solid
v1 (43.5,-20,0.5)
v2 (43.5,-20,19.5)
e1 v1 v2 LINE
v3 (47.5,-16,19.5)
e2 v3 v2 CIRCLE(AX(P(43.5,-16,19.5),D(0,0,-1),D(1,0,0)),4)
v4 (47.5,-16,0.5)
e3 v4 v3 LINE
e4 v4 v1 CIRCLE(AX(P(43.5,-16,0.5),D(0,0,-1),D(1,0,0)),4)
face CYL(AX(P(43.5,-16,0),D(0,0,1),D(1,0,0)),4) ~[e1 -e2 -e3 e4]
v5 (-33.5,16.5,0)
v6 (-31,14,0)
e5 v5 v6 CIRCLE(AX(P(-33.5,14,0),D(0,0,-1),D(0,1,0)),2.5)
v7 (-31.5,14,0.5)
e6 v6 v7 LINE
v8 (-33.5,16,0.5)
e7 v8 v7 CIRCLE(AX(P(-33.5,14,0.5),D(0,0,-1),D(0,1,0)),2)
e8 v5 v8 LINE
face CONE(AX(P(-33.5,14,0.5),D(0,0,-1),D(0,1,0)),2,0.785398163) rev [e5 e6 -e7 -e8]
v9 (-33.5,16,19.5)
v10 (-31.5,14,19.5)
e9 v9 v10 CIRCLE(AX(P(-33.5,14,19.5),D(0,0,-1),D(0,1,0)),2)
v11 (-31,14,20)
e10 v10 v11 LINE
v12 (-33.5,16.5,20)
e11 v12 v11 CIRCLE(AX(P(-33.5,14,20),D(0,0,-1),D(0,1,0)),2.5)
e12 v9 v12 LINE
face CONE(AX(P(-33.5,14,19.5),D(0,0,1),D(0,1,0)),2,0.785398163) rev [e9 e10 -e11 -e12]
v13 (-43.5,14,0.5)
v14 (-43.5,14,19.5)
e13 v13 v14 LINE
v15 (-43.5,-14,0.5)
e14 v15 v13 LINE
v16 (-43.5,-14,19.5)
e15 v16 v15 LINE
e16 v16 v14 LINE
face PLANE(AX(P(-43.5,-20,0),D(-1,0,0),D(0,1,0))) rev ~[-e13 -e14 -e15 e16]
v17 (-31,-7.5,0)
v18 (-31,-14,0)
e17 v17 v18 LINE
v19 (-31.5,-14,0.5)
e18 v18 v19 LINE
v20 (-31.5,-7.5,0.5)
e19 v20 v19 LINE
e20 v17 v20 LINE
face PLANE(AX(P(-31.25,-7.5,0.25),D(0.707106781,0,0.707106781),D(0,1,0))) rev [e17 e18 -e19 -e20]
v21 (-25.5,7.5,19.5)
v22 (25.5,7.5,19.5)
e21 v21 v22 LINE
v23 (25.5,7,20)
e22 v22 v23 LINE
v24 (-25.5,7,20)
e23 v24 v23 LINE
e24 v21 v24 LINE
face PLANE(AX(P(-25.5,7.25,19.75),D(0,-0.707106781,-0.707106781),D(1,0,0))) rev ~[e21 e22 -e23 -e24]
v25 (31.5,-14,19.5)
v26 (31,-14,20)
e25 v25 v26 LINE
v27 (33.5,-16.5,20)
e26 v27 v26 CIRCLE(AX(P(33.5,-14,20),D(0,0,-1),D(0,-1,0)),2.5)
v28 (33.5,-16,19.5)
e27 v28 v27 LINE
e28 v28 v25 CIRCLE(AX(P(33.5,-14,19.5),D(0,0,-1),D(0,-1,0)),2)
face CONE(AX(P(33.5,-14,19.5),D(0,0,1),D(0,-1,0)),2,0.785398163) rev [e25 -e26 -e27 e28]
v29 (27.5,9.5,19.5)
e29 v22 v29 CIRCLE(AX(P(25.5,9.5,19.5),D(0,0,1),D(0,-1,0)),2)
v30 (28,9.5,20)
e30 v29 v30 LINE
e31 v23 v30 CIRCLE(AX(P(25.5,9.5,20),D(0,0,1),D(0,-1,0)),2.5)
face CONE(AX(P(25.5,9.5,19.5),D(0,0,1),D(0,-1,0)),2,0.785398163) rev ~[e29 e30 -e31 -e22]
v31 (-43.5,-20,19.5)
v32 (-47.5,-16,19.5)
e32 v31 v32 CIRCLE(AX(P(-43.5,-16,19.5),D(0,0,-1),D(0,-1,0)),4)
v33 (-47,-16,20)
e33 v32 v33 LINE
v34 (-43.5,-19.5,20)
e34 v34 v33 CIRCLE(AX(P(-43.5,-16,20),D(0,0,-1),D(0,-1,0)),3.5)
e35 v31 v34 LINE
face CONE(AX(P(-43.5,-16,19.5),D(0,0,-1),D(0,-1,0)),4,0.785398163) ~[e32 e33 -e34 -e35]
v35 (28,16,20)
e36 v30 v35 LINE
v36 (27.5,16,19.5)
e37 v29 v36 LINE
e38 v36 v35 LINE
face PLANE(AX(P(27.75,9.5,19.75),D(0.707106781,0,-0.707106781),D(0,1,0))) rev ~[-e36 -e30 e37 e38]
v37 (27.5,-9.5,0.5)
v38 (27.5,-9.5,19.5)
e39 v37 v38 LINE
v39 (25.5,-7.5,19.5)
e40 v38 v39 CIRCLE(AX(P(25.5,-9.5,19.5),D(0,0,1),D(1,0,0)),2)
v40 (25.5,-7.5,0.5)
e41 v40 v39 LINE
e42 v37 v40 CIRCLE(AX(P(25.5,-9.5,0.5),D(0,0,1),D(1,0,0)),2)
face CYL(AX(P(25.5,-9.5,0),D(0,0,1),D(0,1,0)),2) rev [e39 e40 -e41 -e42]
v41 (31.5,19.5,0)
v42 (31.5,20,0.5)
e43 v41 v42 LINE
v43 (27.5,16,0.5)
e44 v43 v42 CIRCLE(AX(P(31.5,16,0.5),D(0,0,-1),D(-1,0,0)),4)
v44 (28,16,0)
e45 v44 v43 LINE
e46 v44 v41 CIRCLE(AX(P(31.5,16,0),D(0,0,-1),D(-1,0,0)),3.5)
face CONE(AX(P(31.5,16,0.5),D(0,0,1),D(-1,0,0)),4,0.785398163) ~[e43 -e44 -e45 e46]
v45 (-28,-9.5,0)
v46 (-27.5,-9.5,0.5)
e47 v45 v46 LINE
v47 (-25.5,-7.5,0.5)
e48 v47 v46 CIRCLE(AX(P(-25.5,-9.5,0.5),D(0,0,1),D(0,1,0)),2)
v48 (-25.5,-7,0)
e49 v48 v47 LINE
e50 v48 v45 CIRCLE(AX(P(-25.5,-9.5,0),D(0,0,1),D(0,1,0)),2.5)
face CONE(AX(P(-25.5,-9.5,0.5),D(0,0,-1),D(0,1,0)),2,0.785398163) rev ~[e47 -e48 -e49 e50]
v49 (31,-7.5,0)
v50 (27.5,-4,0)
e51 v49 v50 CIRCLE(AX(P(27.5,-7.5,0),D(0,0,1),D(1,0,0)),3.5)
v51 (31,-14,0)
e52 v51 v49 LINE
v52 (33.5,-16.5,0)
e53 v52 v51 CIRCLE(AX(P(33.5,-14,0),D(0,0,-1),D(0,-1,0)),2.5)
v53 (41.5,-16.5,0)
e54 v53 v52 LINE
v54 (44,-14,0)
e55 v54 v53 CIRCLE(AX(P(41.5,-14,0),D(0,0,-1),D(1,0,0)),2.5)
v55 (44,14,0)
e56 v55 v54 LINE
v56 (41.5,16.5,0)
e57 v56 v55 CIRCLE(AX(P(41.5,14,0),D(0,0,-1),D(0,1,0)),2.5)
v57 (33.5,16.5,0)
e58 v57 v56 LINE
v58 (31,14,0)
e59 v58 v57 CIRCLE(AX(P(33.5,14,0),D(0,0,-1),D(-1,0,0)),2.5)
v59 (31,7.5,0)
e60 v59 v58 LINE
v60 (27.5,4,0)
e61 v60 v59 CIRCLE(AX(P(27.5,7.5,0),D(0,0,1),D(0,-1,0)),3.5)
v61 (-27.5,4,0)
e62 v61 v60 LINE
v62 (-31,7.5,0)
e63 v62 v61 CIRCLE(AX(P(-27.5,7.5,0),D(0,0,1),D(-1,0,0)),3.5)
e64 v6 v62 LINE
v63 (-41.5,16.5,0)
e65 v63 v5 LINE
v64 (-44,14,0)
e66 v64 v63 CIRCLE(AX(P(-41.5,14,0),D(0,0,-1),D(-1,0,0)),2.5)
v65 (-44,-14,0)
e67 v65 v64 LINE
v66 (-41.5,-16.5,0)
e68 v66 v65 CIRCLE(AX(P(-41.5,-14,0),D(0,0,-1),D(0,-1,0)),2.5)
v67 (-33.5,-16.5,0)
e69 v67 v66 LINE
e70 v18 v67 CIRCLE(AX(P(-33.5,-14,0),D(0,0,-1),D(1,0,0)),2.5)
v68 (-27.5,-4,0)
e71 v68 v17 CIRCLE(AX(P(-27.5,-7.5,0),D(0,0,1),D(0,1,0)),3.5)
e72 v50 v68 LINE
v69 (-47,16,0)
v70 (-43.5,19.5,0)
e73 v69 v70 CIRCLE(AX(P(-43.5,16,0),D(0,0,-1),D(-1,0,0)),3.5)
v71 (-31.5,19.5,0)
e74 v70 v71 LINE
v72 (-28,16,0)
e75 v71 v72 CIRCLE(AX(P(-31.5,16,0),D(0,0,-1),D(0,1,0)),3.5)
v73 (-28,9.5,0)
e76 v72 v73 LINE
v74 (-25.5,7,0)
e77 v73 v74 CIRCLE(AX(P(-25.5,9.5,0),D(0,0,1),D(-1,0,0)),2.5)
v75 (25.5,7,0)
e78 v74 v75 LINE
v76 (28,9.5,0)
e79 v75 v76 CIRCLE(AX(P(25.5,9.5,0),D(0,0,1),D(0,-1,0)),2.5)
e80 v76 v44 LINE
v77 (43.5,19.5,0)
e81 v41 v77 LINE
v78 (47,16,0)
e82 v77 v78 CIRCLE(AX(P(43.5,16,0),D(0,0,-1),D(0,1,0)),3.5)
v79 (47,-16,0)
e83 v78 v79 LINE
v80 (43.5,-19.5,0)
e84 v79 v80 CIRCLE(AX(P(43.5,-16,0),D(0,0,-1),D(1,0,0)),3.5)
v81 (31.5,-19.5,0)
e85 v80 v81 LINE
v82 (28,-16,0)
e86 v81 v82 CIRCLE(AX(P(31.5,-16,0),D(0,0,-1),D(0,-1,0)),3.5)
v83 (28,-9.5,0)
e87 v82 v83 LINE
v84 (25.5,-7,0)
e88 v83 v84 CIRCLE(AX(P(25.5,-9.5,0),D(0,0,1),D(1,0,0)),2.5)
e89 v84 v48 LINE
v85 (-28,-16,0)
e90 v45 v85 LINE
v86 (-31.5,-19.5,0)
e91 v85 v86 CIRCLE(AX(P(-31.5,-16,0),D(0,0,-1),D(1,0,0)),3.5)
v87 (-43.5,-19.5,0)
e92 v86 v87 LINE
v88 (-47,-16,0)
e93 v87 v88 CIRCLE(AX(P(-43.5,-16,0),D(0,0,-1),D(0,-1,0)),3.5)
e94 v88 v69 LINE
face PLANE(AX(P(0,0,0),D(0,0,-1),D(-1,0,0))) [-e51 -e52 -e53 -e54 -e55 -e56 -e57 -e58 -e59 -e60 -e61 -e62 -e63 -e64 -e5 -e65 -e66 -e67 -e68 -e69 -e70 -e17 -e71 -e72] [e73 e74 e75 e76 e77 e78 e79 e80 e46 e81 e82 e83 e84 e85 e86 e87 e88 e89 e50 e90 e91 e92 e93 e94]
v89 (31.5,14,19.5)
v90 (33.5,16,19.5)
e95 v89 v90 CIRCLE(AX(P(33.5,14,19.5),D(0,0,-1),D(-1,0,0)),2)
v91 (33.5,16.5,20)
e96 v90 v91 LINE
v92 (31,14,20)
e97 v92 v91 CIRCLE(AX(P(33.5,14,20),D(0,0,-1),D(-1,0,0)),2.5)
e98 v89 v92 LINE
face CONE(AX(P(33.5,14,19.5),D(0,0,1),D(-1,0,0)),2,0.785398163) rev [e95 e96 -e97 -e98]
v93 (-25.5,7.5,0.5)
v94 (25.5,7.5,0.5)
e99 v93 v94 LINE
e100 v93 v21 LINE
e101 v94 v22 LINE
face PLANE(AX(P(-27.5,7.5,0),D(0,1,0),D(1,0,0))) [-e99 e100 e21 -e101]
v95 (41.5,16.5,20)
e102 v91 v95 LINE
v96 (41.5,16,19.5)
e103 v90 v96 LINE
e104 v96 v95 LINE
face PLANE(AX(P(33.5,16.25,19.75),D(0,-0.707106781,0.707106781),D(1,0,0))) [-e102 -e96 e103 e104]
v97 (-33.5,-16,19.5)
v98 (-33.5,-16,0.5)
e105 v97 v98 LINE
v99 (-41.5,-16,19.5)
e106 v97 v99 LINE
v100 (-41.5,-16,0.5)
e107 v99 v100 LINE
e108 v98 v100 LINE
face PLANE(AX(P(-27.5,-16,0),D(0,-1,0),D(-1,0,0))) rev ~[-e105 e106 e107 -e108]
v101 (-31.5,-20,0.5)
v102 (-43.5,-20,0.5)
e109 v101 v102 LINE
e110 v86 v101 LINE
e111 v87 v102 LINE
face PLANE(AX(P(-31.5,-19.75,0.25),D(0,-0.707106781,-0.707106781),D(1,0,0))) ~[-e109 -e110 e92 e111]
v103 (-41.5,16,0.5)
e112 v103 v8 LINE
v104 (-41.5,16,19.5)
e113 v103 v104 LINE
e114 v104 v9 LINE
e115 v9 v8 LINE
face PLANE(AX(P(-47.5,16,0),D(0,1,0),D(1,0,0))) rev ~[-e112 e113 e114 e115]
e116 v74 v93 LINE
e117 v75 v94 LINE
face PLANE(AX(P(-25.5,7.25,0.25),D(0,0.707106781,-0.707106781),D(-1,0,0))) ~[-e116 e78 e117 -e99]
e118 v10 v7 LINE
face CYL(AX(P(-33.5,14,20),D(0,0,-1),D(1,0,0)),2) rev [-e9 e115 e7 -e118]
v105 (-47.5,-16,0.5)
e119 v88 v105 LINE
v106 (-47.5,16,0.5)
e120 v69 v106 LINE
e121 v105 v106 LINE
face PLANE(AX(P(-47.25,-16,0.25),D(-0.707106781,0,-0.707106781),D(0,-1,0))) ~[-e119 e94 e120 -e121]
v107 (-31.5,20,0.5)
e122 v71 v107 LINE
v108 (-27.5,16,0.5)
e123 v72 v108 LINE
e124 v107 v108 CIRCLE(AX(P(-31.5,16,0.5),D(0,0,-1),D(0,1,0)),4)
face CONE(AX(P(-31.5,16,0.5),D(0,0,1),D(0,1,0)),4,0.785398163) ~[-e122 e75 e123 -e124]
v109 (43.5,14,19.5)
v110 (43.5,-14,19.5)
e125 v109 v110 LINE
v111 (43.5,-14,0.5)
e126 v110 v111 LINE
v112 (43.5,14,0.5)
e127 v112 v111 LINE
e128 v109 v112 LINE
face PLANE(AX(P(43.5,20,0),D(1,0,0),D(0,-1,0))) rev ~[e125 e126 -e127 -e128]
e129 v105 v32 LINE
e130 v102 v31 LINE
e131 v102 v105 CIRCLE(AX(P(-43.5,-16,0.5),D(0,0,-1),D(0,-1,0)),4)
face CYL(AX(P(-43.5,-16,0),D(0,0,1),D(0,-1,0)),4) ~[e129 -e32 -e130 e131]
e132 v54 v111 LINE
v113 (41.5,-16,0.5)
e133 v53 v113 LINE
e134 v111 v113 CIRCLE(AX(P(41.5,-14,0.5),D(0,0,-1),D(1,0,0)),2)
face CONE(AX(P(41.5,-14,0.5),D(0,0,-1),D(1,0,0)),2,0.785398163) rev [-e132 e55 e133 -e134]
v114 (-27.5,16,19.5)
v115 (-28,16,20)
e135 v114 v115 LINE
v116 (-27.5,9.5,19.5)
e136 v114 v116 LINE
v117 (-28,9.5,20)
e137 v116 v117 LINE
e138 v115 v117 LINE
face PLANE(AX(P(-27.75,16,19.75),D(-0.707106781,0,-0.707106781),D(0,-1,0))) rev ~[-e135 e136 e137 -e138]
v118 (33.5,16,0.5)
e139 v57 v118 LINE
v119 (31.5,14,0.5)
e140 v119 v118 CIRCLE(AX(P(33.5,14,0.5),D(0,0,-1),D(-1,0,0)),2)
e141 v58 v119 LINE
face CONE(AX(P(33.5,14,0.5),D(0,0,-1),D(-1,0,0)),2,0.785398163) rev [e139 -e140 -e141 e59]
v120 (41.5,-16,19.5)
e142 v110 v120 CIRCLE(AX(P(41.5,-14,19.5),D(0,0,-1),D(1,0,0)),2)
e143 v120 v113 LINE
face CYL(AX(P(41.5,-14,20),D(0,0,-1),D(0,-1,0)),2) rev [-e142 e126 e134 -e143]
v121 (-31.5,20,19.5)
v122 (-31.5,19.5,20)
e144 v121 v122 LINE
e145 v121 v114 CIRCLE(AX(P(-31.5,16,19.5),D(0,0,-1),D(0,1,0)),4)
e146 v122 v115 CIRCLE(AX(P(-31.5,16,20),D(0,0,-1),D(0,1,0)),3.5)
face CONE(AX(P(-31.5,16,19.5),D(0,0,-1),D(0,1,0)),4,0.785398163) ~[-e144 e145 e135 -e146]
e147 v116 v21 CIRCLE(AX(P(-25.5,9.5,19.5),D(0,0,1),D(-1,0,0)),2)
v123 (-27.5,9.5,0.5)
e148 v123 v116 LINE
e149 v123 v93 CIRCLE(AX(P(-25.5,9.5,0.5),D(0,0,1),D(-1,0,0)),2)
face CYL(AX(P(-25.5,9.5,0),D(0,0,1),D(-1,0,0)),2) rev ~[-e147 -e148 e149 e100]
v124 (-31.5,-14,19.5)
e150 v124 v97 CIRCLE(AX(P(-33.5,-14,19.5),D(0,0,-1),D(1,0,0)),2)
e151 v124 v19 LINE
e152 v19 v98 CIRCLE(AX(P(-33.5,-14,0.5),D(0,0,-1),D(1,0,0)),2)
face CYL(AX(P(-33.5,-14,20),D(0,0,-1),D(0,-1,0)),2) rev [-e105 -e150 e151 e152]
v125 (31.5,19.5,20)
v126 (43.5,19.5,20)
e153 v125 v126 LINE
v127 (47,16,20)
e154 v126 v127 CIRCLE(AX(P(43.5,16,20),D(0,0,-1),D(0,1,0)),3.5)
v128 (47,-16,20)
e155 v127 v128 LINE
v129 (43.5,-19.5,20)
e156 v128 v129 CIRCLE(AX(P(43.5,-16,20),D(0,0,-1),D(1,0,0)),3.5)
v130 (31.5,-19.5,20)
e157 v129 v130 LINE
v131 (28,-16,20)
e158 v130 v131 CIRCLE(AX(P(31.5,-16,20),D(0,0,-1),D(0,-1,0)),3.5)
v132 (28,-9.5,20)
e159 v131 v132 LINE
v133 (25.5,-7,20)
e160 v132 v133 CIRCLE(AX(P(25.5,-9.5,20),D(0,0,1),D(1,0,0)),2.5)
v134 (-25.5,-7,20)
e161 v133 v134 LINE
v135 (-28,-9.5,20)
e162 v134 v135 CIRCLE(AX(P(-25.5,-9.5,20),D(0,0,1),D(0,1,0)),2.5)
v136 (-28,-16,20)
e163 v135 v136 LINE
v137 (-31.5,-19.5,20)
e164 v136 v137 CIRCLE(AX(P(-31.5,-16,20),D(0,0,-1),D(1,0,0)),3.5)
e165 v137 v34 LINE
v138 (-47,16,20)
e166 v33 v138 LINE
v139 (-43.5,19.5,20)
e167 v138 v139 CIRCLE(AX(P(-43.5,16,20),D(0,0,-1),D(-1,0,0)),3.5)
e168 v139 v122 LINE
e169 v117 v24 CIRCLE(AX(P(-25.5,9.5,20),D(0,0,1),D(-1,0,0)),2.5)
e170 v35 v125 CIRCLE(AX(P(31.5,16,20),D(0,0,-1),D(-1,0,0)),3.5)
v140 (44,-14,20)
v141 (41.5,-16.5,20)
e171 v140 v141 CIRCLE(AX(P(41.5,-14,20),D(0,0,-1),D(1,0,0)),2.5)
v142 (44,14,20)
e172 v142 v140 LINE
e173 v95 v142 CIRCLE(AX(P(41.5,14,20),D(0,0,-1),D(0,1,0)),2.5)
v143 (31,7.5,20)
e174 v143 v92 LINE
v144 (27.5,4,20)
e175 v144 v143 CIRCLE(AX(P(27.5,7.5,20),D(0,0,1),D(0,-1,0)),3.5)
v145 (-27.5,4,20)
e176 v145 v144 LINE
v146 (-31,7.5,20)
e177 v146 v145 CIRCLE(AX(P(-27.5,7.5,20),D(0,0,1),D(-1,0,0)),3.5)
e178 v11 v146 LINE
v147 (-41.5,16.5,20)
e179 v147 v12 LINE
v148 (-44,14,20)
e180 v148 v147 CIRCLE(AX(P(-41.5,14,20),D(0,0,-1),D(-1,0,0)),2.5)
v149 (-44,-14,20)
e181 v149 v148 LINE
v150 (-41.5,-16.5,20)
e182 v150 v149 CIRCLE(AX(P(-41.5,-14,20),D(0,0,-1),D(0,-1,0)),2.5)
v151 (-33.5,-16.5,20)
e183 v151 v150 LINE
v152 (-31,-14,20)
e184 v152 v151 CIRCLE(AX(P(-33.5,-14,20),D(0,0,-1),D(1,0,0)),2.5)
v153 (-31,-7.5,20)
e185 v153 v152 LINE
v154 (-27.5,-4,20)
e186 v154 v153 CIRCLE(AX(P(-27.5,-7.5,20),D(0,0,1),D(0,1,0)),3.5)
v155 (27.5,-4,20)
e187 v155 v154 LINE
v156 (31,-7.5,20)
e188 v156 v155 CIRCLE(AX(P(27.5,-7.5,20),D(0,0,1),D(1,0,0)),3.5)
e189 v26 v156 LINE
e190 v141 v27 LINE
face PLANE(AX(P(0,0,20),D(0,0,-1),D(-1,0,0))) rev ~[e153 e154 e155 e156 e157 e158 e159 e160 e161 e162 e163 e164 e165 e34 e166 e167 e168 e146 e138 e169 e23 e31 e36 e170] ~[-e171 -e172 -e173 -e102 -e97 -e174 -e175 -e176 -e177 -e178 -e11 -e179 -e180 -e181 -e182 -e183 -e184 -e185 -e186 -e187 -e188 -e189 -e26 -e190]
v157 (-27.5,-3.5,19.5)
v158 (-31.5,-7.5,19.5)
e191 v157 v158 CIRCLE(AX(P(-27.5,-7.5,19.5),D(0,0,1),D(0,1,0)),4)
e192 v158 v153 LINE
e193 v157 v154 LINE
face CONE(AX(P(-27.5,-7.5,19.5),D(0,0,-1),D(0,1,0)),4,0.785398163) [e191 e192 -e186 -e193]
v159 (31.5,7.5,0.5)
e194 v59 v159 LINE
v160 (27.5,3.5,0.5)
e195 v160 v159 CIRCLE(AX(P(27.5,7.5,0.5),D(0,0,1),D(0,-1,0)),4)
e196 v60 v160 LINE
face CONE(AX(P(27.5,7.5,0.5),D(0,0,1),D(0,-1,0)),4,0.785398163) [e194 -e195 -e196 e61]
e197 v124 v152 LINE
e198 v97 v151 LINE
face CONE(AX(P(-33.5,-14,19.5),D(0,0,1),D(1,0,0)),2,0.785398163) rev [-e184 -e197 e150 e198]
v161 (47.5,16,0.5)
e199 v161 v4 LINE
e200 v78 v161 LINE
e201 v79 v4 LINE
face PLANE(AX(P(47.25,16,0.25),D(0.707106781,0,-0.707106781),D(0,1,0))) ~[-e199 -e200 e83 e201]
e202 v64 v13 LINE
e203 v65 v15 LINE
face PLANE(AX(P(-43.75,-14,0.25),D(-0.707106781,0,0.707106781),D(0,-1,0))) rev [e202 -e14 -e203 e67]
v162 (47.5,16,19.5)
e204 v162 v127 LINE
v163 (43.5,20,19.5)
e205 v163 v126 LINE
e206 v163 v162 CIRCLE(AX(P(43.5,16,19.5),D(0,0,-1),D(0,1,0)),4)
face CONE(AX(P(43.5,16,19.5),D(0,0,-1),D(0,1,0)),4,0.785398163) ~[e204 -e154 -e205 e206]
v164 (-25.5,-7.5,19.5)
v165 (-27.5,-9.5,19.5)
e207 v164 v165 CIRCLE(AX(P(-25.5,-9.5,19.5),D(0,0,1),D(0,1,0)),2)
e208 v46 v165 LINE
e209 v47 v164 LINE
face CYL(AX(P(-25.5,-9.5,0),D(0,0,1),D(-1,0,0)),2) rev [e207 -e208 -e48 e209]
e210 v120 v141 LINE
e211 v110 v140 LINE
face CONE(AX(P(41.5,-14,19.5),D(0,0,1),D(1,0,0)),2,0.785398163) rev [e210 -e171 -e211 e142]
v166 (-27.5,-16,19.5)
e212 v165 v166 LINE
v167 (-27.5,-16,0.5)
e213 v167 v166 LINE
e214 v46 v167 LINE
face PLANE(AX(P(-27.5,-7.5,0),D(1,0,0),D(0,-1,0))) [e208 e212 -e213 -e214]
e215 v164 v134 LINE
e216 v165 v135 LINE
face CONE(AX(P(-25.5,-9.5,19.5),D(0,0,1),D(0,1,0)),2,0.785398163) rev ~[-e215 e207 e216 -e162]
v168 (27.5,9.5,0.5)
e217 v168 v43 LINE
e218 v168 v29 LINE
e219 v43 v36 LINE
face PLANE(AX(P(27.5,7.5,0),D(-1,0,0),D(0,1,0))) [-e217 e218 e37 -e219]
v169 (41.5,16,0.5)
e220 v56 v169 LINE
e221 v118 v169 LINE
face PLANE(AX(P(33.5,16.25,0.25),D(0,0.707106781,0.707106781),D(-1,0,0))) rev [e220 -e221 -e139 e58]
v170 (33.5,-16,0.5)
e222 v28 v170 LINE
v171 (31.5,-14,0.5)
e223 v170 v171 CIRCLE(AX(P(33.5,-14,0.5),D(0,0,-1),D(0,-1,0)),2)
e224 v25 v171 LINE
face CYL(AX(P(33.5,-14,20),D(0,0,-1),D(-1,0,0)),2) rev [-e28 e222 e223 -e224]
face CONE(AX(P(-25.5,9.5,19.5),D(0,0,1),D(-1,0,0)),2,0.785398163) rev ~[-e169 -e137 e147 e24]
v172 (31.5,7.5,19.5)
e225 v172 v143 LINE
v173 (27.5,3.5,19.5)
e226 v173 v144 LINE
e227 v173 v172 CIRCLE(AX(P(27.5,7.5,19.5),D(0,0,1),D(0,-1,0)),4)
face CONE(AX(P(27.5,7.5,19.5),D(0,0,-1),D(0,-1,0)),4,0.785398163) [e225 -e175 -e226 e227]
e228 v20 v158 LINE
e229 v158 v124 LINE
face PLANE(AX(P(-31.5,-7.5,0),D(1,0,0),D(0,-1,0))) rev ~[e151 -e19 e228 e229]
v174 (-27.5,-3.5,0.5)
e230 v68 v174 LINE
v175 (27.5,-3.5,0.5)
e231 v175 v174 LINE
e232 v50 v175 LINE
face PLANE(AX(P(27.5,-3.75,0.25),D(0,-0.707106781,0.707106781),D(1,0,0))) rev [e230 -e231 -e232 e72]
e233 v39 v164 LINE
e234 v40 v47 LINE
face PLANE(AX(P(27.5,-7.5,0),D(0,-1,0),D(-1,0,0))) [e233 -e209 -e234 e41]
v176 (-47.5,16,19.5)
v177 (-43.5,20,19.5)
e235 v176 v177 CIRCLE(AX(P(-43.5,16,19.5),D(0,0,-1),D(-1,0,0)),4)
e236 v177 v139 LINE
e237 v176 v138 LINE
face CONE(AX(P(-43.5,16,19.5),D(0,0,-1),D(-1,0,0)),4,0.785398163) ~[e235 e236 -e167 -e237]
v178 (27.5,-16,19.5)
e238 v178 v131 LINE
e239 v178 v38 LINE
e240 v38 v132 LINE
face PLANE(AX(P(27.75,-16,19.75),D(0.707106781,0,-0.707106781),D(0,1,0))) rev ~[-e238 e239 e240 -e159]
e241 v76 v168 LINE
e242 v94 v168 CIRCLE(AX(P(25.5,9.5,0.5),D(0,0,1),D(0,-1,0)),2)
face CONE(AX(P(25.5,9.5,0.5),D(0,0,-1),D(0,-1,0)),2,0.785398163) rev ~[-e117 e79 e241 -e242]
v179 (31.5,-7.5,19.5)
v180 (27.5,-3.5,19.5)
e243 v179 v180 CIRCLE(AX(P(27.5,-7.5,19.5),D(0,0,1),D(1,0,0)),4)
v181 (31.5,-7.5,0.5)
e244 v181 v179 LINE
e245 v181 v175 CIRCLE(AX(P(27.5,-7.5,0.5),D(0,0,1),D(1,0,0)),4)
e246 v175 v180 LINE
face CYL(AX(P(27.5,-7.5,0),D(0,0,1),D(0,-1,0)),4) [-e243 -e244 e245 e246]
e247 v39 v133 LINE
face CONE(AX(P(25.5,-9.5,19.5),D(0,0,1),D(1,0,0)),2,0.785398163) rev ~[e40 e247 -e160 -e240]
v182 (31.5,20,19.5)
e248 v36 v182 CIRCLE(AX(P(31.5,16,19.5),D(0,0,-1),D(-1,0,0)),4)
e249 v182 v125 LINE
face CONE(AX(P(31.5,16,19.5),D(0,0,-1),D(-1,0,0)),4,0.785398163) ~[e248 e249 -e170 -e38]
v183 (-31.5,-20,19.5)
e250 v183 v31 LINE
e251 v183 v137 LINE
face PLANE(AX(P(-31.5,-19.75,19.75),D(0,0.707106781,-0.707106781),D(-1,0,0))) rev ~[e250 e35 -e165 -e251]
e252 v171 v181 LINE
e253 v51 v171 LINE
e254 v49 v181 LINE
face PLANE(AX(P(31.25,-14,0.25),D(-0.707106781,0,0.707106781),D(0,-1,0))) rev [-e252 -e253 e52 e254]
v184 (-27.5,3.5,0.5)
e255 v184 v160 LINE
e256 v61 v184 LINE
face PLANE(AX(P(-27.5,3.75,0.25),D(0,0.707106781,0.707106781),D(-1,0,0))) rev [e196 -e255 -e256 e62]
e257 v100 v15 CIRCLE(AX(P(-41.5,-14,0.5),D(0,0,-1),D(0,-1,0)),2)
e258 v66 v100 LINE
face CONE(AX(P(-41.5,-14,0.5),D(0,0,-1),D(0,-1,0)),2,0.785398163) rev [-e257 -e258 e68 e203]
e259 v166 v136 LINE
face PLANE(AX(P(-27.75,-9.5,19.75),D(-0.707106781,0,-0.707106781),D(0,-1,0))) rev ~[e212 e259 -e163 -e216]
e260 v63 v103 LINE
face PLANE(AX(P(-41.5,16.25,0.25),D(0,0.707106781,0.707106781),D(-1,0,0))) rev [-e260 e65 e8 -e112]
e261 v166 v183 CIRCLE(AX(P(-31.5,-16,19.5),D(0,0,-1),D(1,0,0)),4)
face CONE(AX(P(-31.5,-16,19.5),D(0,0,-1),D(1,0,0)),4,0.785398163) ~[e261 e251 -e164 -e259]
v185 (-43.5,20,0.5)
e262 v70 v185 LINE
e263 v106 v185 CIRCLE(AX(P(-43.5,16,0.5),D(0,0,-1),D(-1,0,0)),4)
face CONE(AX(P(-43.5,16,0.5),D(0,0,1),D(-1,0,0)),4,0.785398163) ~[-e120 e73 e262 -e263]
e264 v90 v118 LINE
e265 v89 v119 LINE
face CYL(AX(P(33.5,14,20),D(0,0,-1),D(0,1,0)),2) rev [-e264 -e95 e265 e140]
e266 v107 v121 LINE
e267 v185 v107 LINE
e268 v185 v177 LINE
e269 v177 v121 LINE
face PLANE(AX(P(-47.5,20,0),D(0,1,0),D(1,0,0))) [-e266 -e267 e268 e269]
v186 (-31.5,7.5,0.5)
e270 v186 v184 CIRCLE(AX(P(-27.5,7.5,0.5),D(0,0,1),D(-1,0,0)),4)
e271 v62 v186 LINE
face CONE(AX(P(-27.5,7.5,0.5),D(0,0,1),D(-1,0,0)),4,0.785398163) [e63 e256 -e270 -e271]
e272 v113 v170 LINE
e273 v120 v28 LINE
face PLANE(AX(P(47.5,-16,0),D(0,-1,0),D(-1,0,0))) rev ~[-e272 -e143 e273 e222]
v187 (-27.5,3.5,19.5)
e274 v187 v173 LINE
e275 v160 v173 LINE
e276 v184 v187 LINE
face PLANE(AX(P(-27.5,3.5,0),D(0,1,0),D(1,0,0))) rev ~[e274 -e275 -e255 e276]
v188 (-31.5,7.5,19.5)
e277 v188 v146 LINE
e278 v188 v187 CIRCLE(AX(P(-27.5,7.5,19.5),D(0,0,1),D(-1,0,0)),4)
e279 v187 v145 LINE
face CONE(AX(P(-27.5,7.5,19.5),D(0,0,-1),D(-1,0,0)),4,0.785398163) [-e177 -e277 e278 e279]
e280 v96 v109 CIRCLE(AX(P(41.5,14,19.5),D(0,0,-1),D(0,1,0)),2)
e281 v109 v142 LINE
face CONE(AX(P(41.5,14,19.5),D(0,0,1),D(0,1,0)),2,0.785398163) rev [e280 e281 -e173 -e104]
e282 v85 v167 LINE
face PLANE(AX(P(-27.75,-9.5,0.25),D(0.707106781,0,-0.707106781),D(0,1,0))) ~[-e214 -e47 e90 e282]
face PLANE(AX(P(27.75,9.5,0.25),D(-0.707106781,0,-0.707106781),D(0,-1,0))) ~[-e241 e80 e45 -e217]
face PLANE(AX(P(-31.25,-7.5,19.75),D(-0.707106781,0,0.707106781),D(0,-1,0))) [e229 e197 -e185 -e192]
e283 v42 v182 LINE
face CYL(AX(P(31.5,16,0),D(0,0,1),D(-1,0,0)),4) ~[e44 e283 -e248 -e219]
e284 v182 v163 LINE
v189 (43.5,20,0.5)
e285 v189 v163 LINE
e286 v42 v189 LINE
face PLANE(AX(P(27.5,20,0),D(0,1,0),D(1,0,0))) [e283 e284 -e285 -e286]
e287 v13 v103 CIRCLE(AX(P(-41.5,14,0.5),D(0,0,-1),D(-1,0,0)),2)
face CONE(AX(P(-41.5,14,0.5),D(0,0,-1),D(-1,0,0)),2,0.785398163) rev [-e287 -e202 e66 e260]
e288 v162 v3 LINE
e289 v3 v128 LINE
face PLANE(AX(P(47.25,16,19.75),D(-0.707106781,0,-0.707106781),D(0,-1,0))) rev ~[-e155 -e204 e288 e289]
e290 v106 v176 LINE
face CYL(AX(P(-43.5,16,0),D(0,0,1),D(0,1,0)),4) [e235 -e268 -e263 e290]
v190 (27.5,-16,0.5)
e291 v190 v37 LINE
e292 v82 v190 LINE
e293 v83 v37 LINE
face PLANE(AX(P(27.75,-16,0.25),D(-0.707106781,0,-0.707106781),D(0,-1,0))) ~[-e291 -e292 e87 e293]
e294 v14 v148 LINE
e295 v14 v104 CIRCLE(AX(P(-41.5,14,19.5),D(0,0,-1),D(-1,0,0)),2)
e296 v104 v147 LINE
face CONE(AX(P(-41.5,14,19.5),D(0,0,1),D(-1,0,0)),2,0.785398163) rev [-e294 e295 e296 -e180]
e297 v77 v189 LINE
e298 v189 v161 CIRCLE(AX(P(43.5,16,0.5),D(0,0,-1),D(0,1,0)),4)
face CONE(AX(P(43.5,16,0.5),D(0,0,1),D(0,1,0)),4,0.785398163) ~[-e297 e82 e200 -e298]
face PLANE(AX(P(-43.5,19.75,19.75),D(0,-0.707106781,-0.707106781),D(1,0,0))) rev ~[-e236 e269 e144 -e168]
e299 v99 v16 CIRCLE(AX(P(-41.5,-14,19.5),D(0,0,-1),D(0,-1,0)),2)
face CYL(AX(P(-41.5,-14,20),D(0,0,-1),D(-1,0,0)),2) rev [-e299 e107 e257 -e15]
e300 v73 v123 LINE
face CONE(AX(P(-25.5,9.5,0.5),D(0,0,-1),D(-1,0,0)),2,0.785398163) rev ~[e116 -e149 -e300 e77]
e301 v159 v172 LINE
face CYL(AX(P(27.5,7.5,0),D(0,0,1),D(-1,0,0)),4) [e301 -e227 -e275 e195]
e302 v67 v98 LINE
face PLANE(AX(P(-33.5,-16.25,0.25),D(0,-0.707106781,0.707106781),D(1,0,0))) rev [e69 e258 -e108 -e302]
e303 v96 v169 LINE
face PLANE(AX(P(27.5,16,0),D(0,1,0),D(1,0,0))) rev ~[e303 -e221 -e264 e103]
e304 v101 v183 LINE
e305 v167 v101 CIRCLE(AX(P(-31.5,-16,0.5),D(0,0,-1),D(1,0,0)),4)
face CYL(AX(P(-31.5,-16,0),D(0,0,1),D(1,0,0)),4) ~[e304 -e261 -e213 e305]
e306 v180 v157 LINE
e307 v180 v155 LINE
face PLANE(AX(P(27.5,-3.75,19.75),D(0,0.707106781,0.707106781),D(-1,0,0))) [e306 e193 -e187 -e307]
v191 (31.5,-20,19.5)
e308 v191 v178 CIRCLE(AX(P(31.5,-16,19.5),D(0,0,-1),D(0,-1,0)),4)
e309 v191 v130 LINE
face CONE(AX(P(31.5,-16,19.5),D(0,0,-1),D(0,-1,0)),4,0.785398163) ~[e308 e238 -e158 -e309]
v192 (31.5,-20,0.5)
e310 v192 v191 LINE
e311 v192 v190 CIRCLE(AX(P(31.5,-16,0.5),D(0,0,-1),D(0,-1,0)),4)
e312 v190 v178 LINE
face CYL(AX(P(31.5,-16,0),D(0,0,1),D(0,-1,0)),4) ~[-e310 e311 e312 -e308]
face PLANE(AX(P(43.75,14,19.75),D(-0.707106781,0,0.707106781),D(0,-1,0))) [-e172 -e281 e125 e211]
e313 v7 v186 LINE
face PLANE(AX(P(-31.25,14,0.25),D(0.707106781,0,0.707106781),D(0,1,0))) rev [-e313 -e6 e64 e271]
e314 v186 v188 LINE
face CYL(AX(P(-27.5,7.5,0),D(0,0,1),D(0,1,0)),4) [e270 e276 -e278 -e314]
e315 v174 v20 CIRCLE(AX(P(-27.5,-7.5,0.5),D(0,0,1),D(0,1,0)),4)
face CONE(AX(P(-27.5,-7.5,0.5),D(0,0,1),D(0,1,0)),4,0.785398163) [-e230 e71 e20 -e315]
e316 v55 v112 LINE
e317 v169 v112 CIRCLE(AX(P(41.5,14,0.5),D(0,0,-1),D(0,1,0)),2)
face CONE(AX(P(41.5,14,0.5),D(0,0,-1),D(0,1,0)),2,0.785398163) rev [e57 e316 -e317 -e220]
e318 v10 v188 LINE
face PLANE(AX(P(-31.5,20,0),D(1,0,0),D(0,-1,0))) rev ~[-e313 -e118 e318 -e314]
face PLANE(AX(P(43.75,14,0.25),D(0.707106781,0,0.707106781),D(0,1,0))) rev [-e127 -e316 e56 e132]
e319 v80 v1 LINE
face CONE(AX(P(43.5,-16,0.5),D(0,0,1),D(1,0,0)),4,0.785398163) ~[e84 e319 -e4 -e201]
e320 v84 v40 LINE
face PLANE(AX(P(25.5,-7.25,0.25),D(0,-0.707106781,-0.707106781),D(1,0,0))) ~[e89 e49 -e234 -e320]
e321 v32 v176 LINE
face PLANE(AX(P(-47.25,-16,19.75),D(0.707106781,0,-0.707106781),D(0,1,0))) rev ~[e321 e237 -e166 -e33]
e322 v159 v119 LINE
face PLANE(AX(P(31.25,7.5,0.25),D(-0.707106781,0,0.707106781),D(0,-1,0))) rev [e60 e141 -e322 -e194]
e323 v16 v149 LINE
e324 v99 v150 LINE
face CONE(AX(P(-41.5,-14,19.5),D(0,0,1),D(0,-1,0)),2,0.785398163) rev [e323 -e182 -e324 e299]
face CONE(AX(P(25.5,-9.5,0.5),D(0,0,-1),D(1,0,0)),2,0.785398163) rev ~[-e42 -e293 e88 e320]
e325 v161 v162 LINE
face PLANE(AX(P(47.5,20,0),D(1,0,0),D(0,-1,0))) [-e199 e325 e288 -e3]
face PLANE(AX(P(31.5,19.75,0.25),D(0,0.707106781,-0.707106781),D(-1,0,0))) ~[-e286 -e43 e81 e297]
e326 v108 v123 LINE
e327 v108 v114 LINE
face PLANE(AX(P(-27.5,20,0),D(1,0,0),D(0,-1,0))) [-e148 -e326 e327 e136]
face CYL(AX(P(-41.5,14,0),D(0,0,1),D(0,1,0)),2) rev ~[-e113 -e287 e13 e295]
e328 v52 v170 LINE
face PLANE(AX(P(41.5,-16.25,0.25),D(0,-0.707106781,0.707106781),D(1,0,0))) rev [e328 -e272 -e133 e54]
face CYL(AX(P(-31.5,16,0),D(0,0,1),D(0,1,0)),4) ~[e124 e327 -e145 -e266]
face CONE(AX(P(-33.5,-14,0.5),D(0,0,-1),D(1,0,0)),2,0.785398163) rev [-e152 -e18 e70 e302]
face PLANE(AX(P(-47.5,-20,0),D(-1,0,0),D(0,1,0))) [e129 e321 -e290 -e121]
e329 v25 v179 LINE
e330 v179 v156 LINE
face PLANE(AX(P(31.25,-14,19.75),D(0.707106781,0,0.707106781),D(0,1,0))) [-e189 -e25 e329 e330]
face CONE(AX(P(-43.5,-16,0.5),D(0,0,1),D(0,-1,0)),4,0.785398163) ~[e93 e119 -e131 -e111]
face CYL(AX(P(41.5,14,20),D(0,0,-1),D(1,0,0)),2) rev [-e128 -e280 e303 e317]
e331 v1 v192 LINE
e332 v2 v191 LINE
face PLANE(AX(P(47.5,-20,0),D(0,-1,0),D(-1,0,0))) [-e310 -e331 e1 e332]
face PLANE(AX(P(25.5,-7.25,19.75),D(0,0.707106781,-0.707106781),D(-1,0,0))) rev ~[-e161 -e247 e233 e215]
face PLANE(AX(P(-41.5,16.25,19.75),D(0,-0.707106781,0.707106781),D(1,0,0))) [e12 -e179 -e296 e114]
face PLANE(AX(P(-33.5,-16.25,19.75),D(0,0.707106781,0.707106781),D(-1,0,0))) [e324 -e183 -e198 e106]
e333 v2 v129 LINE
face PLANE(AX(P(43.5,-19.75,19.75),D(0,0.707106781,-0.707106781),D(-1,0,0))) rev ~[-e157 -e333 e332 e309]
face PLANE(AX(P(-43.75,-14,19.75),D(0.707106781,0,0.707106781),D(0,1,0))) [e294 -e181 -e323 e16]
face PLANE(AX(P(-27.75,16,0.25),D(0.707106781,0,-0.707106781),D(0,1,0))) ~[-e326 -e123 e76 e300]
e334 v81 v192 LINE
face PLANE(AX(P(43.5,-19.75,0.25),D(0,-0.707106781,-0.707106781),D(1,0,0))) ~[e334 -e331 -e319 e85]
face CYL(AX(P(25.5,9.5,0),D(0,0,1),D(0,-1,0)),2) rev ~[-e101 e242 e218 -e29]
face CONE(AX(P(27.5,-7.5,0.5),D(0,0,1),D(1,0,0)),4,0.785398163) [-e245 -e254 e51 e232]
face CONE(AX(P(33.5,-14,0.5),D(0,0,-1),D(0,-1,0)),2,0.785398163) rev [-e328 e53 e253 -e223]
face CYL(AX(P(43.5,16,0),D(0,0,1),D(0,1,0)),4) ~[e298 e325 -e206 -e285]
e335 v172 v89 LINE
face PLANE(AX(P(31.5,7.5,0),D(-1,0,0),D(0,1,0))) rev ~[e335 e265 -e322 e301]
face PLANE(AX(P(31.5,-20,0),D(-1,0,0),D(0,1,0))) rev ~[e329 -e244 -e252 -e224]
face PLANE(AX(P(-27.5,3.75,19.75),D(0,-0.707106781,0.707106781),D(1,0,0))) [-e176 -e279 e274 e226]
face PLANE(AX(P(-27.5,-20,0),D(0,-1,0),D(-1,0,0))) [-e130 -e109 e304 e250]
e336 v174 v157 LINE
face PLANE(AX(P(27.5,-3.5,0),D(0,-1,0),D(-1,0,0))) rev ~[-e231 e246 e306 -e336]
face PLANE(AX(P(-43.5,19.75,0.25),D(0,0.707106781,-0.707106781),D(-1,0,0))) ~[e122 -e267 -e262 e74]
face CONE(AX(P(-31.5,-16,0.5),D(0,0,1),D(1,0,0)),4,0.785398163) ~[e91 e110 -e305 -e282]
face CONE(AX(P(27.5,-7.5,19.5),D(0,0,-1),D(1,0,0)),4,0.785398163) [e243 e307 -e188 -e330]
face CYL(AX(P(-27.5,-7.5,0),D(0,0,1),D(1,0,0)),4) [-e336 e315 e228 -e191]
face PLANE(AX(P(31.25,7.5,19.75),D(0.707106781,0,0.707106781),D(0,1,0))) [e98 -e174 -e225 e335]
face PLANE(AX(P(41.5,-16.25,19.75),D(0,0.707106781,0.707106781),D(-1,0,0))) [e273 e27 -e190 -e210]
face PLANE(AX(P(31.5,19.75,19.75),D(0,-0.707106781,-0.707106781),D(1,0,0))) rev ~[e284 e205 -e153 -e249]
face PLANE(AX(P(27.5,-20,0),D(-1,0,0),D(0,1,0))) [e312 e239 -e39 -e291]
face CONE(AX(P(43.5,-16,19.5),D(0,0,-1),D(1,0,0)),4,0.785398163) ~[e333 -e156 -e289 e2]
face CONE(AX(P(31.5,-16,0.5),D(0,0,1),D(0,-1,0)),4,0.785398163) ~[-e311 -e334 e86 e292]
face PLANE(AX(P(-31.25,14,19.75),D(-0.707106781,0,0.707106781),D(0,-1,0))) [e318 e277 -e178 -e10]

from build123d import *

# Parameters (mm, degrees)
PAD_DEPTH    = 20
THICKNESS_T  = -4
FILLET_R     = 4
FILLET001_R  = 2
CHAMFER_SIZE = 0.5


with BuildPart() as part:
    # Sketch → Pad (new body)
    with BuildSketch(Plane.XY):
        Polygon((-47.5, 20), (-27.5, 20), (-27.5, 7.5), (27.5, 7.5), (27.5, 20), (47.5, 20), (47.5, -20), (27.5, -20), (27.5, -7.5), (-27.5, -7.5), (-27.5, -20), (-47.5, -20), align=None)
    extrude(amount=PAD_DEPTH)

    # Thickness
    thickness_openings = [part.faces().sort_by_distance(p)[0] for p in [
        (0, 0, 0),
        (0, 0, 20),
    ]]
    offset(amount=THICKNESS_T, openings=thickness_openings)

    # Fillet
    fillet_edges = [part.edges().sort_by_distance(p)[0] for p in [
        (-47.5, -20, 10),
        (-27.5, -20, 10),
        (27.5, -20, 10),
        (47.5, -20, 10),
        (47.5, 20, 10),
        (27.5, 20, 10),
        (-27.5, 20, 10),
        (-47.5, 20, 10),
    ]]
    fillet(fillet_edges, radius=FILLET_R)

    # Fillet001
    fillet001_edges = [part.edges().sort_by_distance(p)[0] for p in [
        (-27.5, -7.5, 10),
        (-27.5, 7.5, 10),
        (27.5, 7.5, 10),
        (27.5, -7.5, 10),
        (-43.5, 16, 10),
        (-31.5, 16, 10),
        (-31.5, -16, 10),
        (-43.5, -16, 10),
        (31.5, 16, 10),
        (43.5, 16, 10),
        (31.5, -16, 10),
        (43.5, -16, 10),
    ]]
    fillet(fillet001_edges, radius=FILLET001_R)

    # Chamfer
    chamfer_edges = [part.edges().sort_by_distance(p)[0] for p in [
        (-27.5, 12.75, 20),
        (-26.914214, 8.085786, 20),
        (-28.671573, 18.828427, 20),
        (0, 7.5, 20),
        (-37.5, 20, 20),
        (26.914214, 8.085786, 20),
        (-46.328427, 18.828427, 20),
        (27.5, 12.75, 20),
        (-47.5, 0, 20),
        (28.671573, 18.828427, 20),
        (-46.328427, -18.828427, 20),
        (37.5, 20, 20),
        (-37.5, -20, 20),
        (46.328427, 18.828427, 20),
        (-28.671573, -18.828427, 20),
        (47.5, 0, 20),
        (-27.5, -12.75, 20),
        (46.328427, -18.828427, 20),
        (-26.914214, -8.085786, 20),
        (37.5, -20, 20),
        (0, -7.5, 20),
        (28.671573, -18.828427, 20),
        (26.914214, -8.085786, 20),
        (27.5, -12.75, 20),
        (-37.5, -16, 20),
        (-32.085786, -15.414214, 20),
        (-42.914214, -15.414214, 20),
        (-31.5, -10.75, 20),
        (-43.5, 0, 20),
        (-30.328427, -4.671573, 20),
        (-42.914214, 15.414214, 20),
        (0, -3.5, 20),
        (-37.5, 16, 20),
        (30.328427, -4.671573, 20),
        (-32.085786, 15.414214, 20),
        (31.5, -10.75, 20),
        (-31.5, 10.75, 20),
        (32.085786, -15.414214, 20),
        (-30.328427, 4.671573, 20),
        (37.5, -16, 20),
        (0, 3.5, 20),
        (42.914214, -15.414214, 20),
        (30.328427, 4.671573, 20),
        (43.5, 0, 20),
        (31.5, 10.75, 20),
        (42.914214, 15.414214, 20),
        (32.085786, 15.414214, 20),
        (37.5, 16, 20),
        (-27.5, 12.75, 0),
        (-26.914214, 8.085786, 0),
        (-28.671573, 18.828427, 0),
        (0, 7.5, 0),
        (-37.5, 20, 0),
        (26.914214, 8.085786, 0),
        (-46.328427, 18.828427, 0),
        (27.5, 12.75, 0),
        (-47.5, 0, 0),
        (28.671573, 18.828427, 0),
        (-46.328427, -18.828427, 0),
        (37.5, 20, 0),
        (-37.5, -20, 0),
        (46.328427, 18.828427, 0),
        (-28.671573, -18.828427, 0),
        (47.5, 0, 0),
        (-27.5, -12.75, 0),
        (46.328427, -18.828427, 0),
        (-26.914214, -8.085786, 0),
        (37.5, -20, 0),
        (0, -7.5, 0),
        (28.671573, -18.828427, 0),
        (26.914214, -8.085786, 0),
        (27.5, -12.75, 0),
        (-37.5, -16, 0),
        (-32.085786, -15.414214, 0),
        (-42.914214, -15.414214, 0),
        (-31.5, -10.75, 0),
        (-43.5, 0, 0),
        (-30.328427, -4.671573, 0),
        (-42.914214, 15.414214, 0),
        (0, -3.5, 0),
        (-37.5, 16, 0),
        (30.328427, -4.671573, 0),
        (-32.085786, 15.414214, 0),
        (31.5, -10.75, 0),
        (-31.5, 10.75, 0),
        (32.085786, -15.414214, 0),
        (-30.328427, 4.671573, 0),
        (37.5, -16, 0),
        (0, 3.5, 0),
        (42.914214, -15.414214, 0),
        (30.328427, 4.671573, 0),
        (43.5, 0, 0),
        (31.5, 10.75, 0),
        (42.914214, 15.414214, 0),
        (32.085786, 15.414214, 0),
        (37.5, 16, 0),
    ]]
    chamfer(chamfer_edges, length=CHAMFER_SIZE)


solid = part.part
